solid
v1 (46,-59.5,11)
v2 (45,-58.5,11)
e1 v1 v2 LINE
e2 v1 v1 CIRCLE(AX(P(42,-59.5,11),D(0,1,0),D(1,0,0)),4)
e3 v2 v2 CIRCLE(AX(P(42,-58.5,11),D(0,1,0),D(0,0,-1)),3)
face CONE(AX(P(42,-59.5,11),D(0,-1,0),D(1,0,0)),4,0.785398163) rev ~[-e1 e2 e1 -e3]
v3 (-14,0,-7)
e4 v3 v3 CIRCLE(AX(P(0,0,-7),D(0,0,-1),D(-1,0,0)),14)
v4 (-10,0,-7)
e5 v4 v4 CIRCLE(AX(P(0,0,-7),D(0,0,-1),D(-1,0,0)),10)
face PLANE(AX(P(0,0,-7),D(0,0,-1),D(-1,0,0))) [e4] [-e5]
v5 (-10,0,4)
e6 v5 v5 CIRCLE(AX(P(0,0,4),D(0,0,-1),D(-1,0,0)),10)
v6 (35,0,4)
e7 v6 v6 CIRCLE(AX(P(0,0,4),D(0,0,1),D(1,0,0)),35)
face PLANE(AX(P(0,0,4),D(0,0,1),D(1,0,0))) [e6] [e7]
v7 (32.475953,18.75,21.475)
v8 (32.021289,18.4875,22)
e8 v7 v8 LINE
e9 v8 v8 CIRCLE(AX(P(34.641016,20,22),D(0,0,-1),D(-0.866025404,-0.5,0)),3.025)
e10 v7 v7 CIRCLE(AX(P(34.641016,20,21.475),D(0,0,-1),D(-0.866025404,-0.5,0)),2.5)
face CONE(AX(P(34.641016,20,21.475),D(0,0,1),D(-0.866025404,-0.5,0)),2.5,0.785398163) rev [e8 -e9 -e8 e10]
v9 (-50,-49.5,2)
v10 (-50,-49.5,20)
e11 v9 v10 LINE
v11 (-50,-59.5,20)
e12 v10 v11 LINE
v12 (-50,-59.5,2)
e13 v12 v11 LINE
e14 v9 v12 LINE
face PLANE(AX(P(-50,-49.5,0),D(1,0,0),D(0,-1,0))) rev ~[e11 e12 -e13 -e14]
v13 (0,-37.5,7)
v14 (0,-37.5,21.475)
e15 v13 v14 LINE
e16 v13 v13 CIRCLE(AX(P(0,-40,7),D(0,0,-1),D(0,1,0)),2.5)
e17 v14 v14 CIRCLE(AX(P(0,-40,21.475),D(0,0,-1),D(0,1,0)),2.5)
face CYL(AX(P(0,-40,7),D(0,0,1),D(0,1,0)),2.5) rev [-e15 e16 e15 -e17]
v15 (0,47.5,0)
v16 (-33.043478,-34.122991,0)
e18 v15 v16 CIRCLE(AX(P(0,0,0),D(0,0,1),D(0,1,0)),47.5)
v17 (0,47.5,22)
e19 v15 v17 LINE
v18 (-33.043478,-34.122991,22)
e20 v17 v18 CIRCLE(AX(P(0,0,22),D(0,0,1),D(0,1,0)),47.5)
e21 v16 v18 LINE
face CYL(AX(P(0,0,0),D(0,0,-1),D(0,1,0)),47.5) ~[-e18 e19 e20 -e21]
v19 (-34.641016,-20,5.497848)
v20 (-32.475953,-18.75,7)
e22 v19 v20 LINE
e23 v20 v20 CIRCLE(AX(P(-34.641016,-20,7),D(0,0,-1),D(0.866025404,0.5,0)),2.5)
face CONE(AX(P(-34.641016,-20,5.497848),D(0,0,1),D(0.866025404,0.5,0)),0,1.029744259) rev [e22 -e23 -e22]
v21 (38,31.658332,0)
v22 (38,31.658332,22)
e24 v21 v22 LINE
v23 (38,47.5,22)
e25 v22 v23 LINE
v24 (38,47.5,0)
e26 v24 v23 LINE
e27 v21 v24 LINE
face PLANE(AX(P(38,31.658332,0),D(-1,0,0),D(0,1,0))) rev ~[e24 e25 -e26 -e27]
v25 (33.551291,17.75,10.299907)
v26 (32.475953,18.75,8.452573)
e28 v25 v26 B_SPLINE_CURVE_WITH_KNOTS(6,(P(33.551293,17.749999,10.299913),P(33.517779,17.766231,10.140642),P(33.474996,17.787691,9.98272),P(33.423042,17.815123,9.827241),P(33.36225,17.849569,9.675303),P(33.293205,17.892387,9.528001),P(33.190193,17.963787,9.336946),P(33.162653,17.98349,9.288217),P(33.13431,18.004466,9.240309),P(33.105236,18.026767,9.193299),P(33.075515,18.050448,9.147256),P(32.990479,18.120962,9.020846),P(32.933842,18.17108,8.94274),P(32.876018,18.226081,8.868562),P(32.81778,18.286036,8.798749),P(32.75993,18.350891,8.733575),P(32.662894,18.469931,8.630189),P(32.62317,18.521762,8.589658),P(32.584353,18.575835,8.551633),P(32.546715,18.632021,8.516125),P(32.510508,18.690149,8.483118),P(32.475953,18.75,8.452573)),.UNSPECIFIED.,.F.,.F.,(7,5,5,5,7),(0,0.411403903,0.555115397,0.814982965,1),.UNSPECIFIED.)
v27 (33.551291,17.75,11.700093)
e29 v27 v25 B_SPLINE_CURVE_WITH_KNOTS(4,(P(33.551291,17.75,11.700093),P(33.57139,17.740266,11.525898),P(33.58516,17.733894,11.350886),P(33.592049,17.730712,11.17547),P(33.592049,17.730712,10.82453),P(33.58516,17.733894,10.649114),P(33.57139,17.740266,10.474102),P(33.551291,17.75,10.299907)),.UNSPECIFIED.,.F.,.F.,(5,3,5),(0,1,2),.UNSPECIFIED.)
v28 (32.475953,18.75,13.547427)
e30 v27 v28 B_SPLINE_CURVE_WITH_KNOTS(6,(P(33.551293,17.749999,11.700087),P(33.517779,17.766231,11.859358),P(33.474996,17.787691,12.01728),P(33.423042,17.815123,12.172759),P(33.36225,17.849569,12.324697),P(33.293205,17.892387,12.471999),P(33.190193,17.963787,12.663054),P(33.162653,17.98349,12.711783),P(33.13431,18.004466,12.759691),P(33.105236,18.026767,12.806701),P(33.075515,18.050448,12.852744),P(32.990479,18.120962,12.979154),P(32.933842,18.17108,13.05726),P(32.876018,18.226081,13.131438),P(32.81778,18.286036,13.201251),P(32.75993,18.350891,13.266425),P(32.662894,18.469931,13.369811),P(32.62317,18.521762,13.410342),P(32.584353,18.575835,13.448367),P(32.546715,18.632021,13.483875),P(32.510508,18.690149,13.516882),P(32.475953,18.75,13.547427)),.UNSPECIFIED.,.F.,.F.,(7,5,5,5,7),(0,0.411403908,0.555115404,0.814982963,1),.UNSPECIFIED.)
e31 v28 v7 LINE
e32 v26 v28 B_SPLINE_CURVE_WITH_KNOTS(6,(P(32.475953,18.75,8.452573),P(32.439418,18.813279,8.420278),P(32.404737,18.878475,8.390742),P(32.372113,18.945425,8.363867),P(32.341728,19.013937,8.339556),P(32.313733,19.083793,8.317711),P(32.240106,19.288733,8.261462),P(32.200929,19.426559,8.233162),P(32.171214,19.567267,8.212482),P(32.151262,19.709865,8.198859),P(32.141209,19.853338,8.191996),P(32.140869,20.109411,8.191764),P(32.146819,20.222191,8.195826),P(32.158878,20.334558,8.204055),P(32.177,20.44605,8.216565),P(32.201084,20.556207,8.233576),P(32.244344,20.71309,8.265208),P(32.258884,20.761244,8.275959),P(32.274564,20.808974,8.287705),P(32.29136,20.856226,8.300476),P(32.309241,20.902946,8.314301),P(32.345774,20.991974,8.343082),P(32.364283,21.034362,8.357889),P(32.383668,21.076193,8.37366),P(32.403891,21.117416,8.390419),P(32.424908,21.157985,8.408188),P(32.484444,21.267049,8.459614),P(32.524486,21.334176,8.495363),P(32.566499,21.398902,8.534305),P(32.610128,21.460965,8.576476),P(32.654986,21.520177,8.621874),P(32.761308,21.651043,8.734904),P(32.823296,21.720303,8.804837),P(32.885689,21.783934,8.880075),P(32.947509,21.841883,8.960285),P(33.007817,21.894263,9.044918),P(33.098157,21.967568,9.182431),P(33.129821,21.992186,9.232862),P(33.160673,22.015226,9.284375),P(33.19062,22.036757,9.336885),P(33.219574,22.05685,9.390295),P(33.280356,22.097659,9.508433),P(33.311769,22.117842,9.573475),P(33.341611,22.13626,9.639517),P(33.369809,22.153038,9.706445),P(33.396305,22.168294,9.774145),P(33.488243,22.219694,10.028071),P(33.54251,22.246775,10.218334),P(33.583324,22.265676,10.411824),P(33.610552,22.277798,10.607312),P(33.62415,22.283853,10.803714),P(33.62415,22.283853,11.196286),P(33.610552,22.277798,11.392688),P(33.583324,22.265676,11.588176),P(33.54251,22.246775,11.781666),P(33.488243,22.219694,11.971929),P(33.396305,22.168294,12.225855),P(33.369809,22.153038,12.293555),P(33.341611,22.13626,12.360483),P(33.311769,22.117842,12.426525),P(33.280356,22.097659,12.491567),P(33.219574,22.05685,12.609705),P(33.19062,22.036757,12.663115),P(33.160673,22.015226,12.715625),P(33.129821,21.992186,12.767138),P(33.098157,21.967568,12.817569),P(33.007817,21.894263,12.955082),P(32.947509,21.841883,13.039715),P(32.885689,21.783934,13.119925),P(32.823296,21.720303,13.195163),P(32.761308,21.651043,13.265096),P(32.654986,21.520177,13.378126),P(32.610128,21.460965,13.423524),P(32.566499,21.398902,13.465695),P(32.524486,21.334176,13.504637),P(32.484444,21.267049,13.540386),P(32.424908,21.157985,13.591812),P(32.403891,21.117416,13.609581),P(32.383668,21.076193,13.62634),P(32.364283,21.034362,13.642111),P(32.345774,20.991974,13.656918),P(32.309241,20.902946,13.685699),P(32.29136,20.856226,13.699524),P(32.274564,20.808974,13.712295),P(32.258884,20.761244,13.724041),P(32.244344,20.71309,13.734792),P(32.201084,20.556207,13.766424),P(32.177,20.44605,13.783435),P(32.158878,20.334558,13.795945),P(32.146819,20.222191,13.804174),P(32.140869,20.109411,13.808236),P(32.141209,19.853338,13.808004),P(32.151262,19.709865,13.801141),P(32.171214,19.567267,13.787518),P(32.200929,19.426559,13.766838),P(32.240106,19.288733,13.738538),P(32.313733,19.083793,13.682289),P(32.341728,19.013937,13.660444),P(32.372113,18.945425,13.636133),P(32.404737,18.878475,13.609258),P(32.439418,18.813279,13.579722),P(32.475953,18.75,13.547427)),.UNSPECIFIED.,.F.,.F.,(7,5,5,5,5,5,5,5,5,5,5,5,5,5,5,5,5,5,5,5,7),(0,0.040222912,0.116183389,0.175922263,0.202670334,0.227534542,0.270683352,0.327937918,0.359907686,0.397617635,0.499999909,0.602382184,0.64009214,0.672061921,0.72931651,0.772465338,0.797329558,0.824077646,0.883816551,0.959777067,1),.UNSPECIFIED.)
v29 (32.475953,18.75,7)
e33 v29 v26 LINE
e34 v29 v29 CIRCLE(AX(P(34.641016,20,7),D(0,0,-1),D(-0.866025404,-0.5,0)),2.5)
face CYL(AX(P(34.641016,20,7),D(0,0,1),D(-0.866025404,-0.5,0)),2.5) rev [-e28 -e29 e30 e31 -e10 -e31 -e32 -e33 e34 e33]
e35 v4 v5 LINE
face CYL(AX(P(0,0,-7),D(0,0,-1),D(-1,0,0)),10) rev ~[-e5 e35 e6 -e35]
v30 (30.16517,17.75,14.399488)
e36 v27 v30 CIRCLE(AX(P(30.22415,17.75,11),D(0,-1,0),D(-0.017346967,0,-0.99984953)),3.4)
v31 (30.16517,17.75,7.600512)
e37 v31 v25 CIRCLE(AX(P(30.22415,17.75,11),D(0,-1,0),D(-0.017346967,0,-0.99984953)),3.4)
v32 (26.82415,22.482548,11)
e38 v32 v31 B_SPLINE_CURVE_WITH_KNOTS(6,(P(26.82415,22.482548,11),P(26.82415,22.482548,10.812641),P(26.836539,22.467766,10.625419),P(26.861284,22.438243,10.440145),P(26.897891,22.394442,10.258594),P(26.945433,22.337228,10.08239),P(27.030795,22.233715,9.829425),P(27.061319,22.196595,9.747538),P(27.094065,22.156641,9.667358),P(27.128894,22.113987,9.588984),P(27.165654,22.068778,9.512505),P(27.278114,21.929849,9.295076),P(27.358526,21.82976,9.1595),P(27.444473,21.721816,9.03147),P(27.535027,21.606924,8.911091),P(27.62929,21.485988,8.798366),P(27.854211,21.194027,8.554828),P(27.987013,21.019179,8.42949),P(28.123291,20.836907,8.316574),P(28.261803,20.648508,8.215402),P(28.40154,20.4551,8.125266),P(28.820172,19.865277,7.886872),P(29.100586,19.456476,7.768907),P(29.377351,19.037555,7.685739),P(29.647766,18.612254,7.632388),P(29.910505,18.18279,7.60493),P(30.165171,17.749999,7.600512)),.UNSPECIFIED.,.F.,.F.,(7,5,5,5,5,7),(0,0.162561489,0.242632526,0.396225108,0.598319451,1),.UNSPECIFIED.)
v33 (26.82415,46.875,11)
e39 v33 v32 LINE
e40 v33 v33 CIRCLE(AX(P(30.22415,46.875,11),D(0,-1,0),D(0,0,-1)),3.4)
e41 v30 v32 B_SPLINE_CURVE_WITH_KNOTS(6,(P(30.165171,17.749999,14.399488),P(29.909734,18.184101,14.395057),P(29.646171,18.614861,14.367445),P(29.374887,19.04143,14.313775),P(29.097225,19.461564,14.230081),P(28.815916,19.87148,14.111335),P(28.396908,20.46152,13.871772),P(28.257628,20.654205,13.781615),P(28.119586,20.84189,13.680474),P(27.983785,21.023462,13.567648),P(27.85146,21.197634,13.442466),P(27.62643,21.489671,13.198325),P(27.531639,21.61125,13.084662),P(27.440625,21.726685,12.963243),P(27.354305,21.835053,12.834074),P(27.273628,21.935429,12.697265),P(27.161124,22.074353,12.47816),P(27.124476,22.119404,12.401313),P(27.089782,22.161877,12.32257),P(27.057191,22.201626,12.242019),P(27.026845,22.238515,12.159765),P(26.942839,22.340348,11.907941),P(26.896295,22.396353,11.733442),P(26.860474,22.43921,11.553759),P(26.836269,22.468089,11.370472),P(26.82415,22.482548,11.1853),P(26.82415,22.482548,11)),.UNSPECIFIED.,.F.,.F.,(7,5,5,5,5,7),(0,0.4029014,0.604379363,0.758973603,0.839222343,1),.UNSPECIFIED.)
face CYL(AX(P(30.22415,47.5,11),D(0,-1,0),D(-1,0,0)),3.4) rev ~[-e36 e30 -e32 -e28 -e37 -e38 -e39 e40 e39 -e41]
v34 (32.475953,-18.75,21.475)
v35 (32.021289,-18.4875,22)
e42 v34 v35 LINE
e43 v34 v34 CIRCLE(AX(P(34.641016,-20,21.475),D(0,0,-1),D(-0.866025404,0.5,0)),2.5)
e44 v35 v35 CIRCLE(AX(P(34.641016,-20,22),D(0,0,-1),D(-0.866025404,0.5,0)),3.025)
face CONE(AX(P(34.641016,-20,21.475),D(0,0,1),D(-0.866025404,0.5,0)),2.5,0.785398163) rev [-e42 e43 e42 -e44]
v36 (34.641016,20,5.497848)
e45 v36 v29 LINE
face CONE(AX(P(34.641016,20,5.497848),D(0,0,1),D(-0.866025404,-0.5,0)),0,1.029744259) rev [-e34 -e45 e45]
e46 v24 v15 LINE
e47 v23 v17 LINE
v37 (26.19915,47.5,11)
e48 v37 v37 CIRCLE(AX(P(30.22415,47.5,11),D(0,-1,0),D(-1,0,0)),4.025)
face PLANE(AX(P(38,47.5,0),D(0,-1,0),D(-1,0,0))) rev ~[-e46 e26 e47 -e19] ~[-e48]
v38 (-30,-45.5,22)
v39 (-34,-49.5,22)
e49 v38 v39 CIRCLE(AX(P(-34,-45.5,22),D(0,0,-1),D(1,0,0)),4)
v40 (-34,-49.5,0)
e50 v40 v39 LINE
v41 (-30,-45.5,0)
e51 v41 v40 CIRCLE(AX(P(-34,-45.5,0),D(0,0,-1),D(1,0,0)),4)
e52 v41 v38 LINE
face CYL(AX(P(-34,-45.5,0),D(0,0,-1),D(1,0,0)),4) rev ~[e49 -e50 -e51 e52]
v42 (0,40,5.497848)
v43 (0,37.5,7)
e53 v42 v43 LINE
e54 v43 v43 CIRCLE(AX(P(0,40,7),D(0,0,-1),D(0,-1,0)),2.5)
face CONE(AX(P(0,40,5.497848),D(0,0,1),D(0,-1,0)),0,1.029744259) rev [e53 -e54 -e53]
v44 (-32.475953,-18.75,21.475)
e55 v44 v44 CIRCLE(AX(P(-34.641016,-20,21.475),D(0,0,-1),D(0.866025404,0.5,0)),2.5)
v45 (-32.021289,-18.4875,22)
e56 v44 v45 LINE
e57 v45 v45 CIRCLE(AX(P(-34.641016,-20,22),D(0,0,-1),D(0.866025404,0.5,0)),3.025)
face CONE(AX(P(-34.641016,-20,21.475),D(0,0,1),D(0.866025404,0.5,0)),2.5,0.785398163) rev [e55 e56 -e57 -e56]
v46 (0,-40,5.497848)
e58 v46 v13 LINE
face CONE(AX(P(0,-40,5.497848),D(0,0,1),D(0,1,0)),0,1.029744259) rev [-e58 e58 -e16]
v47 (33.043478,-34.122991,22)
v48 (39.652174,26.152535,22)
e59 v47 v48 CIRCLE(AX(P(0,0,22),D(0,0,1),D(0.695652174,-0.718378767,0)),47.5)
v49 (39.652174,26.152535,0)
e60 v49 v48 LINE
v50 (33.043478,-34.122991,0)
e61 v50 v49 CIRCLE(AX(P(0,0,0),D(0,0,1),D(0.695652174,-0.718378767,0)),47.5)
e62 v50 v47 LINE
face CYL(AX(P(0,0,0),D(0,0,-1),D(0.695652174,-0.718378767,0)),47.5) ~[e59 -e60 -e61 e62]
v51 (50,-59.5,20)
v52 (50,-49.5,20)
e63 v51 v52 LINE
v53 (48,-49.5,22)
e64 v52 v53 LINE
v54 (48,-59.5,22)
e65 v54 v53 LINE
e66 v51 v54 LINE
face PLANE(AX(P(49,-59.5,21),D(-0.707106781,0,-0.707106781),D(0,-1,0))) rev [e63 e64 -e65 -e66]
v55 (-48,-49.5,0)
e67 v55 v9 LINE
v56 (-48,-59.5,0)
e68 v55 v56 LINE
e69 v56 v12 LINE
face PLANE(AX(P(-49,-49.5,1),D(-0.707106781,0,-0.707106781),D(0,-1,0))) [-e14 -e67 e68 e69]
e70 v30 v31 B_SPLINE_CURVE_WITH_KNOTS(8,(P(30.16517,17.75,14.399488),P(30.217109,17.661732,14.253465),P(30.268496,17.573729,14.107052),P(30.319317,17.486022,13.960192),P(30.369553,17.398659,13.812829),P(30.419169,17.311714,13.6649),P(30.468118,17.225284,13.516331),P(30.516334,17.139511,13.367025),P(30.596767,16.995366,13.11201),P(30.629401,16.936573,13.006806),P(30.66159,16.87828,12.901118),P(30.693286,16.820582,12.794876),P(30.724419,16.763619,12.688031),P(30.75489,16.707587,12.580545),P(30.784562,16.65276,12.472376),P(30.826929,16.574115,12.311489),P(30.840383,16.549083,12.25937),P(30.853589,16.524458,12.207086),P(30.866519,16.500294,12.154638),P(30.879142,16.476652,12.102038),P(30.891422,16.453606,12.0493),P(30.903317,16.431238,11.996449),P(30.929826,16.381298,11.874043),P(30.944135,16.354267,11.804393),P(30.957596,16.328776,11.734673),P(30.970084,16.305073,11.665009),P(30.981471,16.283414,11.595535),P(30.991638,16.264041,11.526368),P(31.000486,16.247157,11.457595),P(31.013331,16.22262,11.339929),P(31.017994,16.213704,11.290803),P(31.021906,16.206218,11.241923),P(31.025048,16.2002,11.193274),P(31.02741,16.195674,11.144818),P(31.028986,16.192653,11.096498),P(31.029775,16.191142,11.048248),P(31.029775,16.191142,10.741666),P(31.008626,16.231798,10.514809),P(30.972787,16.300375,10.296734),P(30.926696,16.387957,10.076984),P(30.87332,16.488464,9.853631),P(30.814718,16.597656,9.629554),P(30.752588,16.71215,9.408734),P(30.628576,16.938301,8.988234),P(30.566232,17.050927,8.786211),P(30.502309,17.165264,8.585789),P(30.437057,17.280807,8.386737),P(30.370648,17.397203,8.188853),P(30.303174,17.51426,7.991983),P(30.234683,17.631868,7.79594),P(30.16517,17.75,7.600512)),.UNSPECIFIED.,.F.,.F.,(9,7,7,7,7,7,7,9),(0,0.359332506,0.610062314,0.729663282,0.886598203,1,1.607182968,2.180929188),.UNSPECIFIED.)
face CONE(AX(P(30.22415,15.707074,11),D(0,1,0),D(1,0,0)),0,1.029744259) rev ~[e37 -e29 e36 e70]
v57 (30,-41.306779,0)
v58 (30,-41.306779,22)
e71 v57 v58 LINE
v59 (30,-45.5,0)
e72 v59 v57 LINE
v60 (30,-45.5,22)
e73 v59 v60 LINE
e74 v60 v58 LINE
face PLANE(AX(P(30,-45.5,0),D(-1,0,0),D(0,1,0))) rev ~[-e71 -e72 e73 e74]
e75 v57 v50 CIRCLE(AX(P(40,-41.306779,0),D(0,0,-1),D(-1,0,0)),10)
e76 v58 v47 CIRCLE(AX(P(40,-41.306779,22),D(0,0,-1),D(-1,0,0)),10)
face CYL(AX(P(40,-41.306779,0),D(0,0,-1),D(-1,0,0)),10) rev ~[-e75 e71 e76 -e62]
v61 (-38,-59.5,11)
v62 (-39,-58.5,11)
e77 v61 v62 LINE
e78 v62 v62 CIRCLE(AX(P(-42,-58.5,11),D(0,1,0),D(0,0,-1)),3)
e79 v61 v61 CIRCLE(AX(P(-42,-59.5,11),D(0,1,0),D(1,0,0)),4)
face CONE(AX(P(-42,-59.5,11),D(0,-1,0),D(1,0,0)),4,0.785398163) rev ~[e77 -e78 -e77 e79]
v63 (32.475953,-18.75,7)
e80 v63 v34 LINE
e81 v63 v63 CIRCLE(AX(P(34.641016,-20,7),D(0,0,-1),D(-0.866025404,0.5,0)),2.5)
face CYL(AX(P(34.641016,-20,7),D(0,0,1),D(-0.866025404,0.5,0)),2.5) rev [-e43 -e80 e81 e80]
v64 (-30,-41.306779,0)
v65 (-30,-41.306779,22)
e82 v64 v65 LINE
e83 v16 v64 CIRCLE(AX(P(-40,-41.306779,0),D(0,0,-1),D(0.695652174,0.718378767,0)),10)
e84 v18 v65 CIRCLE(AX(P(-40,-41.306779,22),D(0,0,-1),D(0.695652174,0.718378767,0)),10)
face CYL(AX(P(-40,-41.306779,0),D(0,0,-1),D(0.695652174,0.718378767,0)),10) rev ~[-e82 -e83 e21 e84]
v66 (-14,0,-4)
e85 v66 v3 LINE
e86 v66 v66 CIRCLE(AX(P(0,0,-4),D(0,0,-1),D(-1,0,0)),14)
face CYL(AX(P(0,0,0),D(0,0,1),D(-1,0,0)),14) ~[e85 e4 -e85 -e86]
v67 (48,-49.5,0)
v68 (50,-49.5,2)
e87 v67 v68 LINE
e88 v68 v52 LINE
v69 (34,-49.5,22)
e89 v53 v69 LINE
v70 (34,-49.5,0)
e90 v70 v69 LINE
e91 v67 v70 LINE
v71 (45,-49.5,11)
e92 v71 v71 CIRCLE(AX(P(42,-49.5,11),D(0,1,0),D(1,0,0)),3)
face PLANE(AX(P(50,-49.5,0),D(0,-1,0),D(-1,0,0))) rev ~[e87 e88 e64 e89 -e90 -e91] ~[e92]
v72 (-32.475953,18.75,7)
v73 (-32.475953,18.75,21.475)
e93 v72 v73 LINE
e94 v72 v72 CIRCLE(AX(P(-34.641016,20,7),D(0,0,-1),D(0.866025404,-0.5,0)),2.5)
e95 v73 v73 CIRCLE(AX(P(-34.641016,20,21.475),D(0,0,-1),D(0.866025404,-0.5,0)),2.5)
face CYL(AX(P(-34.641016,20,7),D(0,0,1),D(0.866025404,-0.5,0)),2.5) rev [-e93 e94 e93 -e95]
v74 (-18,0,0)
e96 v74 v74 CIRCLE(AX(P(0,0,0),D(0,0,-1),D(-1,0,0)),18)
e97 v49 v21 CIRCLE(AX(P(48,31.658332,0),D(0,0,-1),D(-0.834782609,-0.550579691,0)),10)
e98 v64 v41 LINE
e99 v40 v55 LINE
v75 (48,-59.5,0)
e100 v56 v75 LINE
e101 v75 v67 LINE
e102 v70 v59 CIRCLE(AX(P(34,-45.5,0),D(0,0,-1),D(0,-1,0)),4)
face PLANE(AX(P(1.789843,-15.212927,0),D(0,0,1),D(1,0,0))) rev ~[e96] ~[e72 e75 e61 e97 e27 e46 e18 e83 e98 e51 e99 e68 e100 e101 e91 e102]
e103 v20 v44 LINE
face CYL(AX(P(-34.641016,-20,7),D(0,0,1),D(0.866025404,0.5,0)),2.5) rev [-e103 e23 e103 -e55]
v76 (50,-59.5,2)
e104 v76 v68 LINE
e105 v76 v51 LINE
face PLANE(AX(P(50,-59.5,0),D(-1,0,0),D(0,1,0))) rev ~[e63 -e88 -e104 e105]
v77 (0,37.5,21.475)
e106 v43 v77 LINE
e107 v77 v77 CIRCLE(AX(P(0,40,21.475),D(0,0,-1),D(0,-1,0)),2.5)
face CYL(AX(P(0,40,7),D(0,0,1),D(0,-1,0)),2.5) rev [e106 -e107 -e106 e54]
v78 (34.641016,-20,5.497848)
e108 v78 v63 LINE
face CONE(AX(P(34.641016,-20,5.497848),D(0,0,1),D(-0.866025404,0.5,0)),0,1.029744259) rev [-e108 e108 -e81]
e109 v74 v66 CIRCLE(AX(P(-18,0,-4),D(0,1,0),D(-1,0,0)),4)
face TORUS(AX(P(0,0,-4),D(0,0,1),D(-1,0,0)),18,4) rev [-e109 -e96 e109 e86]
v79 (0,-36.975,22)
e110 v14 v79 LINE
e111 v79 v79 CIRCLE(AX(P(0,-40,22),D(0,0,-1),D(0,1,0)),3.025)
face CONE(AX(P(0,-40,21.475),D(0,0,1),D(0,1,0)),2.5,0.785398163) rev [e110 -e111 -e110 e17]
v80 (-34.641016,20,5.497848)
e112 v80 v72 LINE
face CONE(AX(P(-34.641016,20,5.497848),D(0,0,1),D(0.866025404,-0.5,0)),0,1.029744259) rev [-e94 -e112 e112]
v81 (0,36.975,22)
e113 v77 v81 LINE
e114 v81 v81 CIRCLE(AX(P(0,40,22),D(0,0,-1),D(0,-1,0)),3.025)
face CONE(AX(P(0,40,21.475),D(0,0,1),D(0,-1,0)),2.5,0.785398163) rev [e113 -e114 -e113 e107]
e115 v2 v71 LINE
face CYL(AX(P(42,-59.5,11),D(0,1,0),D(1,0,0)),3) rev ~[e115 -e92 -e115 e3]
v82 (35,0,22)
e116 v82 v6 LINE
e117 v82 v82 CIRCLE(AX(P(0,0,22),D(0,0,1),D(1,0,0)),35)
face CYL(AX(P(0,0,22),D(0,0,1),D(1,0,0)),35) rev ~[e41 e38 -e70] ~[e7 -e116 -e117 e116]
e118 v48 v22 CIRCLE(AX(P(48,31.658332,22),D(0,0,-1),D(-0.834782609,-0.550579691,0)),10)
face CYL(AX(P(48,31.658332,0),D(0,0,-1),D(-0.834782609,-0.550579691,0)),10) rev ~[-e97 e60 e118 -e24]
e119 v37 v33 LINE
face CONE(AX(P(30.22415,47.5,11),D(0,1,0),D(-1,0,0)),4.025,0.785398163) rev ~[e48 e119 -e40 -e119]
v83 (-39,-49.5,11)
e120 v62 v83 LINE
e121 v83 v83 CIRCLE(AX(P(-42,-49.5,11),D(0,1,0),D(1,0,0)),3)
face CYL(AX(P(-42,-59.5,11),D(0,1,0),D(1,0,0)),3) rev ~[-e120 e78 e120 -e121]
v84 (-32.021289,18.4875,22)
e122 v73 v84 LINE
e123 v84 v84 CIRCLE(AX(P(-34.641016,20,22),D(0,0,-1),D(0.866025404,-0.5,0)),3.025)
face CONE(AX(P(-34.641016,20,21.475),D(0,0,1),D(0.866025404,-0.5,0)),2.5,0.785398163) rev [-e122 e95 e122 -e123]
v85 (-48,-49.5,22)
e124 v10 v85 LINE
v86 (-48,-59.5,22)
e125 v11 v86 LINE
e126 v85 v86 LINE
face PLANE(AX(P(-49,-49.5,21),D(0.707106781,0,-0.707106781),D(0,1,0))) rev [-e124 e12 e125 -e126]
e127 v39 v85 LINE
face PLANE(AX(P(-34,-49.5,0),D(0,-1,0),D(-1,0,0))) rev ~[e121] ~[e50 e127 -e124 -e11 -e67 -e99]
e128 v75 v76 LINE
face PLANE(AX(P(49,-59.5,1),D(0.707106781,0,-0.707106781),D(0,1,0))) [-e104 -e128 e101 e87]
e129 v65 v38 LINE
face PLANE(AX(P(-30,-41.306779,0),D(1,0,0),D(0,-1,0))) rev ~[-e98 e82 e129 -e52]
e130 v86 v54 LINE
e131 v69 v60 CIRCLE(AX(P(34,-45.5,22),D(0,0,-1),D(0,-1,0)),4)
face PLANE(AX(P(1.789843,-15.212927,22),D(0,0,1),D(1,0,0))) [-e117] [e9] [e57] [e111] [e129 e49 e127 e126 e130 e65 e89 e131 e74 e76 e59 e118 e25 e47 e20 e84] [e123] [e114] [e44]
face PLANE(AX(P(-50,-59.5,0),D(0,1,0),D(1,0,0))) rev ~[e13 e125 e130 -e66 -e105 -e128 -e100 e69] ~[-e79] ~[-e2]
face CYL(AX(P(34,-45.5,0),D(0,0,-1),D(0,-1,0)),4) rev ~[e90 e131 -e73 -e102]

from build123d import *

# Parameters (mm, degrees)
BOSS_EXTRUDE1_DEPTH                                 = 22
SKETCH2_R                                           = 35
CUT_EXTRUDE1_DEPTH                                  = 18
SKETCH3_R                                           = 14
BOSS_EXTRUDE2_DEPTH                                 = 7
FILLET1_R                                           = 4
SKETCH4_R                                           = 10
CUT_EXTRUDE2_DEPTH                                  = 30
CHAMFER1_SIZE                                       = 2
M8X1_25_TAPPED_HOLE1_D                              = 6.8
M8X1_25_TAPPED_HOLE1_DEPTH                          = 29.75
M8X1_25_TAPPED_HOLE1_CSINK_D                        = 8.05
M8X1_25_TAPPED_HOLE1_CSINK_ANGLE                    = 90
M8X1_25_TAPPED_HOLE1_TIP                            = 2.042926105
CIRPATTERN1_COUNT                                   = 6
CSK_FOR_M8_COUNTERSUNK_FLAT_HEAD_SCREW1_D           = 6
CSK_FOR_M8_COUNTERSUNK_FLAT_HEAD_SCREW1_DEPTH       = 20
CSK_FOR_M8_COUNTERSUNK_FLAT_HEAD_SCREW1_CSINK_D     = 8
CSK_FOR_M8_COUNTERSUNK_FLAT_HEAD_SCREW1_CSINK_ANGLE = 90
CSK_FOR_M8_COUNTERSUNK_FLAT_HEAD_SCREW1_TIP         = 1.802581857


with BuildPart() as part:
    # Sketch1 → Boss-Extrude1 (new body)
    with BuildSketch(Plane.XY):
        with BuildLine():
            Line((-50, -59.5), (50, -59.5))
            Line((50, -59.5), (50, -49.5))
            Line((50, -49.5), (34, -49.5))
            ThreePointArc((34, -49.5), (31.171572875, -48.328427125), (30, -45.5))
            Line((30, -45.5), (30, -41.306779105))
            ThreePointArc((30, -41.306779105), (30.792252789, -37.405831617), (33.043478261, -34.122991434))
            ThreePointArc((33.043478261, -34.122991434), (47.217043986, -5.176944775), (39.652173913, 26.152535326))
            ThreePointArc((39.652173913, 26.152535326), (38.421945373, 28.784159388), (38, 31.658332237))
            Line((38, 31.658332237), (38, 47.5))
            Line((38, 47.5), (0, 47.5))
            ThreePointArc((0, 47.5), (-44.028922841, 17.824251834), (-33.043478261, -34.122991434))
            ThreePointArc((-33.043478261, -34.122991434), (-30.792252789, -37.405831617), (-30, -41.306779105))
            Line((-30, -41.306779105), (-30, -45.5))
            ThreePointArc((-30, -45.5), (-31.171572875, -48.328427125), (-34, -49.5))
            Line((-34, -49.5), (-50, -49.5))
            Line((-50, -49.5), (-50, -59.5))
        make_face()
    extrude(amount=BOSS_EXTRUDE1_DEPTH)

    # Sketch2 → Cut-Extrude1 (cut)
    with BuildSketch(Plane.XY.offset(22)):
        Circle(SKETCH2_R)
    extrude(amount=-CUT_EXTRUDE1_DEPTH, mode=Mode.SUBTRACT)

    # Sketch3 → Boss-Extrude2 (add)
    with BuildSketch(Plane(origin=(0, 0, 0), x_dir=(-1, 0, 0), z_dir=(0, 0, -1))):
        Circle(SKETCH3_R)
    extrude(amount=BOSS_EXTRUDE2_DEPTH)

    # Fillet1
    fillet1_edges = [part.edges().sort_by_distance(p)[0] for p in [
        (14, 0, 0),
    ]]
    fillet(fillet1_edges, radius=FILLET1_R)

    # Sketch4 → Cut-Extrude2 (cut, through all)
    with BuildSketch(Plane(origin=(0, 0, -7), x_dir=(-1, 0, 0), z_dir=(0, 0, -1))):
        Circle(SKETCH4_R)
    extrude(amount=-CUT_EXTRUDE2_DEPTH, mode=Mode.SUBTRACT)

    # Chamfer1
    chamfer1_edges = [part.edges().sort_by_distance(p)[0] for p in [
        (50, -54.5, 0),
        (-50, -54.5, 0),
        (-50, -54.5, 22),
        (50, -54.5, 22),
    ]]
    chamfer(chamfer1_edges, length=CHAMFER1_SIZE)

    # M8x1.25 Tapped Hole1
    with Locations(Plane(origin=(0, 47.5, 0), x_dir=(1, 0, 0), z_dir=(0, 1, 0))):
        with Locations((30.22415, -11)):
            CounterSinkHole(M8X1_25_TAPPED_HOLE1_D / 2, M8X1_25_TAPPED_HOLE1_CSINK_D / 2, depth=M8X1_25_TAPPED_HOLE1_DEPTH, counter_sink_angle=M8X1_25_TAPPED_HOLE1_CSINK_ANGLE)
            with Locations((0, 0, -(M8X1_25_TAPPED_HOLE1_DEPTH + M8X1_25_TAPPED_HOLE1_TIP / 2))):  # 118° drill point
                Cone(0, M8X1_25_TAPPED_HOLE1_D / 2, M8X1_25_TAPPED_HOLE1_TIP, mode=Mode.SUBTRACT)

    # Sketch10 → M6x1.0 Tapped Hole1 (revolve, cut)
    with BuildSketch(Plane(origin=(0, 40, 22), x_dir=(0, -1, 0), z_dir=(1, 0, 0))):
        Polygon((0, 0), (0, 16.502151548), (2.5, 15), (2.5, 0.525), (3.025, 0), align=None)
    m6x1_0_tapped_hole1 = revolve(axis=Axis((0, 40, 28.35), (0, 0, -1)), mode=Mode.SUBTRACT)

    # CirPattern1: M6x1.0 Tapped Hole1 ×6 about axis
    cirpattern1_axis = Axis((0, 0, 0), (0, 0, 1))
    for i in range(1, CIRPATTERN1_COUNT):
        add(m6x1_0_tapped_hole1.rotate(cirpattern1_axis, i * 360 / CIRPATTERN1_COUNT), mode=Mode.SUBTRACT)

    # CSK for M8 Countersunk Flat Head Screw1
    with Locations(Plane(origin=(0, -59.5, 0), x_dir=(-1, 0, 0), z_dir=(0, -1, 0))):
        with Locations((42, -11), (-42, -11)):
            CounterSinkHole(CSK_FOR_M8_COUNTERSUNK_FLAT_HEAD_SCREW1_D / 2, CSK_FOR_M8_COUNTERSUNK_FLAT_HEAD_SCREW1_CSINK_D / 2, depth=CSK_FOR_M8_COUNTERSUNK_FLAT_HEAD_SCREW1_DEPTH, counter_sink_angle=CSK_FOR_M8_COUNTERSUNK_FLAT_HEAD_SCREW1_CSINK_ANGLE)
            with Locations((0, 0, -(CSK_FOR_M8_COUNTERSUNK_FLAT_HEAD_SCREW1_DEPTH + CSK_FOR_M8_COUNTERSUNK_FLAT_HEAD_SCREW1_TIP / 2))):  # 118° drill point
                Cone(0, CSK_FOR_M8_COUNTERSUNK_FLAT_HEAD_SCREW1_D / 2, CSK_FOR_M8_COUNTERSUNK_FLAT_HEAD_SCREW1_TIP, mode=Mode.SUBTRACT)


solid = part.part
